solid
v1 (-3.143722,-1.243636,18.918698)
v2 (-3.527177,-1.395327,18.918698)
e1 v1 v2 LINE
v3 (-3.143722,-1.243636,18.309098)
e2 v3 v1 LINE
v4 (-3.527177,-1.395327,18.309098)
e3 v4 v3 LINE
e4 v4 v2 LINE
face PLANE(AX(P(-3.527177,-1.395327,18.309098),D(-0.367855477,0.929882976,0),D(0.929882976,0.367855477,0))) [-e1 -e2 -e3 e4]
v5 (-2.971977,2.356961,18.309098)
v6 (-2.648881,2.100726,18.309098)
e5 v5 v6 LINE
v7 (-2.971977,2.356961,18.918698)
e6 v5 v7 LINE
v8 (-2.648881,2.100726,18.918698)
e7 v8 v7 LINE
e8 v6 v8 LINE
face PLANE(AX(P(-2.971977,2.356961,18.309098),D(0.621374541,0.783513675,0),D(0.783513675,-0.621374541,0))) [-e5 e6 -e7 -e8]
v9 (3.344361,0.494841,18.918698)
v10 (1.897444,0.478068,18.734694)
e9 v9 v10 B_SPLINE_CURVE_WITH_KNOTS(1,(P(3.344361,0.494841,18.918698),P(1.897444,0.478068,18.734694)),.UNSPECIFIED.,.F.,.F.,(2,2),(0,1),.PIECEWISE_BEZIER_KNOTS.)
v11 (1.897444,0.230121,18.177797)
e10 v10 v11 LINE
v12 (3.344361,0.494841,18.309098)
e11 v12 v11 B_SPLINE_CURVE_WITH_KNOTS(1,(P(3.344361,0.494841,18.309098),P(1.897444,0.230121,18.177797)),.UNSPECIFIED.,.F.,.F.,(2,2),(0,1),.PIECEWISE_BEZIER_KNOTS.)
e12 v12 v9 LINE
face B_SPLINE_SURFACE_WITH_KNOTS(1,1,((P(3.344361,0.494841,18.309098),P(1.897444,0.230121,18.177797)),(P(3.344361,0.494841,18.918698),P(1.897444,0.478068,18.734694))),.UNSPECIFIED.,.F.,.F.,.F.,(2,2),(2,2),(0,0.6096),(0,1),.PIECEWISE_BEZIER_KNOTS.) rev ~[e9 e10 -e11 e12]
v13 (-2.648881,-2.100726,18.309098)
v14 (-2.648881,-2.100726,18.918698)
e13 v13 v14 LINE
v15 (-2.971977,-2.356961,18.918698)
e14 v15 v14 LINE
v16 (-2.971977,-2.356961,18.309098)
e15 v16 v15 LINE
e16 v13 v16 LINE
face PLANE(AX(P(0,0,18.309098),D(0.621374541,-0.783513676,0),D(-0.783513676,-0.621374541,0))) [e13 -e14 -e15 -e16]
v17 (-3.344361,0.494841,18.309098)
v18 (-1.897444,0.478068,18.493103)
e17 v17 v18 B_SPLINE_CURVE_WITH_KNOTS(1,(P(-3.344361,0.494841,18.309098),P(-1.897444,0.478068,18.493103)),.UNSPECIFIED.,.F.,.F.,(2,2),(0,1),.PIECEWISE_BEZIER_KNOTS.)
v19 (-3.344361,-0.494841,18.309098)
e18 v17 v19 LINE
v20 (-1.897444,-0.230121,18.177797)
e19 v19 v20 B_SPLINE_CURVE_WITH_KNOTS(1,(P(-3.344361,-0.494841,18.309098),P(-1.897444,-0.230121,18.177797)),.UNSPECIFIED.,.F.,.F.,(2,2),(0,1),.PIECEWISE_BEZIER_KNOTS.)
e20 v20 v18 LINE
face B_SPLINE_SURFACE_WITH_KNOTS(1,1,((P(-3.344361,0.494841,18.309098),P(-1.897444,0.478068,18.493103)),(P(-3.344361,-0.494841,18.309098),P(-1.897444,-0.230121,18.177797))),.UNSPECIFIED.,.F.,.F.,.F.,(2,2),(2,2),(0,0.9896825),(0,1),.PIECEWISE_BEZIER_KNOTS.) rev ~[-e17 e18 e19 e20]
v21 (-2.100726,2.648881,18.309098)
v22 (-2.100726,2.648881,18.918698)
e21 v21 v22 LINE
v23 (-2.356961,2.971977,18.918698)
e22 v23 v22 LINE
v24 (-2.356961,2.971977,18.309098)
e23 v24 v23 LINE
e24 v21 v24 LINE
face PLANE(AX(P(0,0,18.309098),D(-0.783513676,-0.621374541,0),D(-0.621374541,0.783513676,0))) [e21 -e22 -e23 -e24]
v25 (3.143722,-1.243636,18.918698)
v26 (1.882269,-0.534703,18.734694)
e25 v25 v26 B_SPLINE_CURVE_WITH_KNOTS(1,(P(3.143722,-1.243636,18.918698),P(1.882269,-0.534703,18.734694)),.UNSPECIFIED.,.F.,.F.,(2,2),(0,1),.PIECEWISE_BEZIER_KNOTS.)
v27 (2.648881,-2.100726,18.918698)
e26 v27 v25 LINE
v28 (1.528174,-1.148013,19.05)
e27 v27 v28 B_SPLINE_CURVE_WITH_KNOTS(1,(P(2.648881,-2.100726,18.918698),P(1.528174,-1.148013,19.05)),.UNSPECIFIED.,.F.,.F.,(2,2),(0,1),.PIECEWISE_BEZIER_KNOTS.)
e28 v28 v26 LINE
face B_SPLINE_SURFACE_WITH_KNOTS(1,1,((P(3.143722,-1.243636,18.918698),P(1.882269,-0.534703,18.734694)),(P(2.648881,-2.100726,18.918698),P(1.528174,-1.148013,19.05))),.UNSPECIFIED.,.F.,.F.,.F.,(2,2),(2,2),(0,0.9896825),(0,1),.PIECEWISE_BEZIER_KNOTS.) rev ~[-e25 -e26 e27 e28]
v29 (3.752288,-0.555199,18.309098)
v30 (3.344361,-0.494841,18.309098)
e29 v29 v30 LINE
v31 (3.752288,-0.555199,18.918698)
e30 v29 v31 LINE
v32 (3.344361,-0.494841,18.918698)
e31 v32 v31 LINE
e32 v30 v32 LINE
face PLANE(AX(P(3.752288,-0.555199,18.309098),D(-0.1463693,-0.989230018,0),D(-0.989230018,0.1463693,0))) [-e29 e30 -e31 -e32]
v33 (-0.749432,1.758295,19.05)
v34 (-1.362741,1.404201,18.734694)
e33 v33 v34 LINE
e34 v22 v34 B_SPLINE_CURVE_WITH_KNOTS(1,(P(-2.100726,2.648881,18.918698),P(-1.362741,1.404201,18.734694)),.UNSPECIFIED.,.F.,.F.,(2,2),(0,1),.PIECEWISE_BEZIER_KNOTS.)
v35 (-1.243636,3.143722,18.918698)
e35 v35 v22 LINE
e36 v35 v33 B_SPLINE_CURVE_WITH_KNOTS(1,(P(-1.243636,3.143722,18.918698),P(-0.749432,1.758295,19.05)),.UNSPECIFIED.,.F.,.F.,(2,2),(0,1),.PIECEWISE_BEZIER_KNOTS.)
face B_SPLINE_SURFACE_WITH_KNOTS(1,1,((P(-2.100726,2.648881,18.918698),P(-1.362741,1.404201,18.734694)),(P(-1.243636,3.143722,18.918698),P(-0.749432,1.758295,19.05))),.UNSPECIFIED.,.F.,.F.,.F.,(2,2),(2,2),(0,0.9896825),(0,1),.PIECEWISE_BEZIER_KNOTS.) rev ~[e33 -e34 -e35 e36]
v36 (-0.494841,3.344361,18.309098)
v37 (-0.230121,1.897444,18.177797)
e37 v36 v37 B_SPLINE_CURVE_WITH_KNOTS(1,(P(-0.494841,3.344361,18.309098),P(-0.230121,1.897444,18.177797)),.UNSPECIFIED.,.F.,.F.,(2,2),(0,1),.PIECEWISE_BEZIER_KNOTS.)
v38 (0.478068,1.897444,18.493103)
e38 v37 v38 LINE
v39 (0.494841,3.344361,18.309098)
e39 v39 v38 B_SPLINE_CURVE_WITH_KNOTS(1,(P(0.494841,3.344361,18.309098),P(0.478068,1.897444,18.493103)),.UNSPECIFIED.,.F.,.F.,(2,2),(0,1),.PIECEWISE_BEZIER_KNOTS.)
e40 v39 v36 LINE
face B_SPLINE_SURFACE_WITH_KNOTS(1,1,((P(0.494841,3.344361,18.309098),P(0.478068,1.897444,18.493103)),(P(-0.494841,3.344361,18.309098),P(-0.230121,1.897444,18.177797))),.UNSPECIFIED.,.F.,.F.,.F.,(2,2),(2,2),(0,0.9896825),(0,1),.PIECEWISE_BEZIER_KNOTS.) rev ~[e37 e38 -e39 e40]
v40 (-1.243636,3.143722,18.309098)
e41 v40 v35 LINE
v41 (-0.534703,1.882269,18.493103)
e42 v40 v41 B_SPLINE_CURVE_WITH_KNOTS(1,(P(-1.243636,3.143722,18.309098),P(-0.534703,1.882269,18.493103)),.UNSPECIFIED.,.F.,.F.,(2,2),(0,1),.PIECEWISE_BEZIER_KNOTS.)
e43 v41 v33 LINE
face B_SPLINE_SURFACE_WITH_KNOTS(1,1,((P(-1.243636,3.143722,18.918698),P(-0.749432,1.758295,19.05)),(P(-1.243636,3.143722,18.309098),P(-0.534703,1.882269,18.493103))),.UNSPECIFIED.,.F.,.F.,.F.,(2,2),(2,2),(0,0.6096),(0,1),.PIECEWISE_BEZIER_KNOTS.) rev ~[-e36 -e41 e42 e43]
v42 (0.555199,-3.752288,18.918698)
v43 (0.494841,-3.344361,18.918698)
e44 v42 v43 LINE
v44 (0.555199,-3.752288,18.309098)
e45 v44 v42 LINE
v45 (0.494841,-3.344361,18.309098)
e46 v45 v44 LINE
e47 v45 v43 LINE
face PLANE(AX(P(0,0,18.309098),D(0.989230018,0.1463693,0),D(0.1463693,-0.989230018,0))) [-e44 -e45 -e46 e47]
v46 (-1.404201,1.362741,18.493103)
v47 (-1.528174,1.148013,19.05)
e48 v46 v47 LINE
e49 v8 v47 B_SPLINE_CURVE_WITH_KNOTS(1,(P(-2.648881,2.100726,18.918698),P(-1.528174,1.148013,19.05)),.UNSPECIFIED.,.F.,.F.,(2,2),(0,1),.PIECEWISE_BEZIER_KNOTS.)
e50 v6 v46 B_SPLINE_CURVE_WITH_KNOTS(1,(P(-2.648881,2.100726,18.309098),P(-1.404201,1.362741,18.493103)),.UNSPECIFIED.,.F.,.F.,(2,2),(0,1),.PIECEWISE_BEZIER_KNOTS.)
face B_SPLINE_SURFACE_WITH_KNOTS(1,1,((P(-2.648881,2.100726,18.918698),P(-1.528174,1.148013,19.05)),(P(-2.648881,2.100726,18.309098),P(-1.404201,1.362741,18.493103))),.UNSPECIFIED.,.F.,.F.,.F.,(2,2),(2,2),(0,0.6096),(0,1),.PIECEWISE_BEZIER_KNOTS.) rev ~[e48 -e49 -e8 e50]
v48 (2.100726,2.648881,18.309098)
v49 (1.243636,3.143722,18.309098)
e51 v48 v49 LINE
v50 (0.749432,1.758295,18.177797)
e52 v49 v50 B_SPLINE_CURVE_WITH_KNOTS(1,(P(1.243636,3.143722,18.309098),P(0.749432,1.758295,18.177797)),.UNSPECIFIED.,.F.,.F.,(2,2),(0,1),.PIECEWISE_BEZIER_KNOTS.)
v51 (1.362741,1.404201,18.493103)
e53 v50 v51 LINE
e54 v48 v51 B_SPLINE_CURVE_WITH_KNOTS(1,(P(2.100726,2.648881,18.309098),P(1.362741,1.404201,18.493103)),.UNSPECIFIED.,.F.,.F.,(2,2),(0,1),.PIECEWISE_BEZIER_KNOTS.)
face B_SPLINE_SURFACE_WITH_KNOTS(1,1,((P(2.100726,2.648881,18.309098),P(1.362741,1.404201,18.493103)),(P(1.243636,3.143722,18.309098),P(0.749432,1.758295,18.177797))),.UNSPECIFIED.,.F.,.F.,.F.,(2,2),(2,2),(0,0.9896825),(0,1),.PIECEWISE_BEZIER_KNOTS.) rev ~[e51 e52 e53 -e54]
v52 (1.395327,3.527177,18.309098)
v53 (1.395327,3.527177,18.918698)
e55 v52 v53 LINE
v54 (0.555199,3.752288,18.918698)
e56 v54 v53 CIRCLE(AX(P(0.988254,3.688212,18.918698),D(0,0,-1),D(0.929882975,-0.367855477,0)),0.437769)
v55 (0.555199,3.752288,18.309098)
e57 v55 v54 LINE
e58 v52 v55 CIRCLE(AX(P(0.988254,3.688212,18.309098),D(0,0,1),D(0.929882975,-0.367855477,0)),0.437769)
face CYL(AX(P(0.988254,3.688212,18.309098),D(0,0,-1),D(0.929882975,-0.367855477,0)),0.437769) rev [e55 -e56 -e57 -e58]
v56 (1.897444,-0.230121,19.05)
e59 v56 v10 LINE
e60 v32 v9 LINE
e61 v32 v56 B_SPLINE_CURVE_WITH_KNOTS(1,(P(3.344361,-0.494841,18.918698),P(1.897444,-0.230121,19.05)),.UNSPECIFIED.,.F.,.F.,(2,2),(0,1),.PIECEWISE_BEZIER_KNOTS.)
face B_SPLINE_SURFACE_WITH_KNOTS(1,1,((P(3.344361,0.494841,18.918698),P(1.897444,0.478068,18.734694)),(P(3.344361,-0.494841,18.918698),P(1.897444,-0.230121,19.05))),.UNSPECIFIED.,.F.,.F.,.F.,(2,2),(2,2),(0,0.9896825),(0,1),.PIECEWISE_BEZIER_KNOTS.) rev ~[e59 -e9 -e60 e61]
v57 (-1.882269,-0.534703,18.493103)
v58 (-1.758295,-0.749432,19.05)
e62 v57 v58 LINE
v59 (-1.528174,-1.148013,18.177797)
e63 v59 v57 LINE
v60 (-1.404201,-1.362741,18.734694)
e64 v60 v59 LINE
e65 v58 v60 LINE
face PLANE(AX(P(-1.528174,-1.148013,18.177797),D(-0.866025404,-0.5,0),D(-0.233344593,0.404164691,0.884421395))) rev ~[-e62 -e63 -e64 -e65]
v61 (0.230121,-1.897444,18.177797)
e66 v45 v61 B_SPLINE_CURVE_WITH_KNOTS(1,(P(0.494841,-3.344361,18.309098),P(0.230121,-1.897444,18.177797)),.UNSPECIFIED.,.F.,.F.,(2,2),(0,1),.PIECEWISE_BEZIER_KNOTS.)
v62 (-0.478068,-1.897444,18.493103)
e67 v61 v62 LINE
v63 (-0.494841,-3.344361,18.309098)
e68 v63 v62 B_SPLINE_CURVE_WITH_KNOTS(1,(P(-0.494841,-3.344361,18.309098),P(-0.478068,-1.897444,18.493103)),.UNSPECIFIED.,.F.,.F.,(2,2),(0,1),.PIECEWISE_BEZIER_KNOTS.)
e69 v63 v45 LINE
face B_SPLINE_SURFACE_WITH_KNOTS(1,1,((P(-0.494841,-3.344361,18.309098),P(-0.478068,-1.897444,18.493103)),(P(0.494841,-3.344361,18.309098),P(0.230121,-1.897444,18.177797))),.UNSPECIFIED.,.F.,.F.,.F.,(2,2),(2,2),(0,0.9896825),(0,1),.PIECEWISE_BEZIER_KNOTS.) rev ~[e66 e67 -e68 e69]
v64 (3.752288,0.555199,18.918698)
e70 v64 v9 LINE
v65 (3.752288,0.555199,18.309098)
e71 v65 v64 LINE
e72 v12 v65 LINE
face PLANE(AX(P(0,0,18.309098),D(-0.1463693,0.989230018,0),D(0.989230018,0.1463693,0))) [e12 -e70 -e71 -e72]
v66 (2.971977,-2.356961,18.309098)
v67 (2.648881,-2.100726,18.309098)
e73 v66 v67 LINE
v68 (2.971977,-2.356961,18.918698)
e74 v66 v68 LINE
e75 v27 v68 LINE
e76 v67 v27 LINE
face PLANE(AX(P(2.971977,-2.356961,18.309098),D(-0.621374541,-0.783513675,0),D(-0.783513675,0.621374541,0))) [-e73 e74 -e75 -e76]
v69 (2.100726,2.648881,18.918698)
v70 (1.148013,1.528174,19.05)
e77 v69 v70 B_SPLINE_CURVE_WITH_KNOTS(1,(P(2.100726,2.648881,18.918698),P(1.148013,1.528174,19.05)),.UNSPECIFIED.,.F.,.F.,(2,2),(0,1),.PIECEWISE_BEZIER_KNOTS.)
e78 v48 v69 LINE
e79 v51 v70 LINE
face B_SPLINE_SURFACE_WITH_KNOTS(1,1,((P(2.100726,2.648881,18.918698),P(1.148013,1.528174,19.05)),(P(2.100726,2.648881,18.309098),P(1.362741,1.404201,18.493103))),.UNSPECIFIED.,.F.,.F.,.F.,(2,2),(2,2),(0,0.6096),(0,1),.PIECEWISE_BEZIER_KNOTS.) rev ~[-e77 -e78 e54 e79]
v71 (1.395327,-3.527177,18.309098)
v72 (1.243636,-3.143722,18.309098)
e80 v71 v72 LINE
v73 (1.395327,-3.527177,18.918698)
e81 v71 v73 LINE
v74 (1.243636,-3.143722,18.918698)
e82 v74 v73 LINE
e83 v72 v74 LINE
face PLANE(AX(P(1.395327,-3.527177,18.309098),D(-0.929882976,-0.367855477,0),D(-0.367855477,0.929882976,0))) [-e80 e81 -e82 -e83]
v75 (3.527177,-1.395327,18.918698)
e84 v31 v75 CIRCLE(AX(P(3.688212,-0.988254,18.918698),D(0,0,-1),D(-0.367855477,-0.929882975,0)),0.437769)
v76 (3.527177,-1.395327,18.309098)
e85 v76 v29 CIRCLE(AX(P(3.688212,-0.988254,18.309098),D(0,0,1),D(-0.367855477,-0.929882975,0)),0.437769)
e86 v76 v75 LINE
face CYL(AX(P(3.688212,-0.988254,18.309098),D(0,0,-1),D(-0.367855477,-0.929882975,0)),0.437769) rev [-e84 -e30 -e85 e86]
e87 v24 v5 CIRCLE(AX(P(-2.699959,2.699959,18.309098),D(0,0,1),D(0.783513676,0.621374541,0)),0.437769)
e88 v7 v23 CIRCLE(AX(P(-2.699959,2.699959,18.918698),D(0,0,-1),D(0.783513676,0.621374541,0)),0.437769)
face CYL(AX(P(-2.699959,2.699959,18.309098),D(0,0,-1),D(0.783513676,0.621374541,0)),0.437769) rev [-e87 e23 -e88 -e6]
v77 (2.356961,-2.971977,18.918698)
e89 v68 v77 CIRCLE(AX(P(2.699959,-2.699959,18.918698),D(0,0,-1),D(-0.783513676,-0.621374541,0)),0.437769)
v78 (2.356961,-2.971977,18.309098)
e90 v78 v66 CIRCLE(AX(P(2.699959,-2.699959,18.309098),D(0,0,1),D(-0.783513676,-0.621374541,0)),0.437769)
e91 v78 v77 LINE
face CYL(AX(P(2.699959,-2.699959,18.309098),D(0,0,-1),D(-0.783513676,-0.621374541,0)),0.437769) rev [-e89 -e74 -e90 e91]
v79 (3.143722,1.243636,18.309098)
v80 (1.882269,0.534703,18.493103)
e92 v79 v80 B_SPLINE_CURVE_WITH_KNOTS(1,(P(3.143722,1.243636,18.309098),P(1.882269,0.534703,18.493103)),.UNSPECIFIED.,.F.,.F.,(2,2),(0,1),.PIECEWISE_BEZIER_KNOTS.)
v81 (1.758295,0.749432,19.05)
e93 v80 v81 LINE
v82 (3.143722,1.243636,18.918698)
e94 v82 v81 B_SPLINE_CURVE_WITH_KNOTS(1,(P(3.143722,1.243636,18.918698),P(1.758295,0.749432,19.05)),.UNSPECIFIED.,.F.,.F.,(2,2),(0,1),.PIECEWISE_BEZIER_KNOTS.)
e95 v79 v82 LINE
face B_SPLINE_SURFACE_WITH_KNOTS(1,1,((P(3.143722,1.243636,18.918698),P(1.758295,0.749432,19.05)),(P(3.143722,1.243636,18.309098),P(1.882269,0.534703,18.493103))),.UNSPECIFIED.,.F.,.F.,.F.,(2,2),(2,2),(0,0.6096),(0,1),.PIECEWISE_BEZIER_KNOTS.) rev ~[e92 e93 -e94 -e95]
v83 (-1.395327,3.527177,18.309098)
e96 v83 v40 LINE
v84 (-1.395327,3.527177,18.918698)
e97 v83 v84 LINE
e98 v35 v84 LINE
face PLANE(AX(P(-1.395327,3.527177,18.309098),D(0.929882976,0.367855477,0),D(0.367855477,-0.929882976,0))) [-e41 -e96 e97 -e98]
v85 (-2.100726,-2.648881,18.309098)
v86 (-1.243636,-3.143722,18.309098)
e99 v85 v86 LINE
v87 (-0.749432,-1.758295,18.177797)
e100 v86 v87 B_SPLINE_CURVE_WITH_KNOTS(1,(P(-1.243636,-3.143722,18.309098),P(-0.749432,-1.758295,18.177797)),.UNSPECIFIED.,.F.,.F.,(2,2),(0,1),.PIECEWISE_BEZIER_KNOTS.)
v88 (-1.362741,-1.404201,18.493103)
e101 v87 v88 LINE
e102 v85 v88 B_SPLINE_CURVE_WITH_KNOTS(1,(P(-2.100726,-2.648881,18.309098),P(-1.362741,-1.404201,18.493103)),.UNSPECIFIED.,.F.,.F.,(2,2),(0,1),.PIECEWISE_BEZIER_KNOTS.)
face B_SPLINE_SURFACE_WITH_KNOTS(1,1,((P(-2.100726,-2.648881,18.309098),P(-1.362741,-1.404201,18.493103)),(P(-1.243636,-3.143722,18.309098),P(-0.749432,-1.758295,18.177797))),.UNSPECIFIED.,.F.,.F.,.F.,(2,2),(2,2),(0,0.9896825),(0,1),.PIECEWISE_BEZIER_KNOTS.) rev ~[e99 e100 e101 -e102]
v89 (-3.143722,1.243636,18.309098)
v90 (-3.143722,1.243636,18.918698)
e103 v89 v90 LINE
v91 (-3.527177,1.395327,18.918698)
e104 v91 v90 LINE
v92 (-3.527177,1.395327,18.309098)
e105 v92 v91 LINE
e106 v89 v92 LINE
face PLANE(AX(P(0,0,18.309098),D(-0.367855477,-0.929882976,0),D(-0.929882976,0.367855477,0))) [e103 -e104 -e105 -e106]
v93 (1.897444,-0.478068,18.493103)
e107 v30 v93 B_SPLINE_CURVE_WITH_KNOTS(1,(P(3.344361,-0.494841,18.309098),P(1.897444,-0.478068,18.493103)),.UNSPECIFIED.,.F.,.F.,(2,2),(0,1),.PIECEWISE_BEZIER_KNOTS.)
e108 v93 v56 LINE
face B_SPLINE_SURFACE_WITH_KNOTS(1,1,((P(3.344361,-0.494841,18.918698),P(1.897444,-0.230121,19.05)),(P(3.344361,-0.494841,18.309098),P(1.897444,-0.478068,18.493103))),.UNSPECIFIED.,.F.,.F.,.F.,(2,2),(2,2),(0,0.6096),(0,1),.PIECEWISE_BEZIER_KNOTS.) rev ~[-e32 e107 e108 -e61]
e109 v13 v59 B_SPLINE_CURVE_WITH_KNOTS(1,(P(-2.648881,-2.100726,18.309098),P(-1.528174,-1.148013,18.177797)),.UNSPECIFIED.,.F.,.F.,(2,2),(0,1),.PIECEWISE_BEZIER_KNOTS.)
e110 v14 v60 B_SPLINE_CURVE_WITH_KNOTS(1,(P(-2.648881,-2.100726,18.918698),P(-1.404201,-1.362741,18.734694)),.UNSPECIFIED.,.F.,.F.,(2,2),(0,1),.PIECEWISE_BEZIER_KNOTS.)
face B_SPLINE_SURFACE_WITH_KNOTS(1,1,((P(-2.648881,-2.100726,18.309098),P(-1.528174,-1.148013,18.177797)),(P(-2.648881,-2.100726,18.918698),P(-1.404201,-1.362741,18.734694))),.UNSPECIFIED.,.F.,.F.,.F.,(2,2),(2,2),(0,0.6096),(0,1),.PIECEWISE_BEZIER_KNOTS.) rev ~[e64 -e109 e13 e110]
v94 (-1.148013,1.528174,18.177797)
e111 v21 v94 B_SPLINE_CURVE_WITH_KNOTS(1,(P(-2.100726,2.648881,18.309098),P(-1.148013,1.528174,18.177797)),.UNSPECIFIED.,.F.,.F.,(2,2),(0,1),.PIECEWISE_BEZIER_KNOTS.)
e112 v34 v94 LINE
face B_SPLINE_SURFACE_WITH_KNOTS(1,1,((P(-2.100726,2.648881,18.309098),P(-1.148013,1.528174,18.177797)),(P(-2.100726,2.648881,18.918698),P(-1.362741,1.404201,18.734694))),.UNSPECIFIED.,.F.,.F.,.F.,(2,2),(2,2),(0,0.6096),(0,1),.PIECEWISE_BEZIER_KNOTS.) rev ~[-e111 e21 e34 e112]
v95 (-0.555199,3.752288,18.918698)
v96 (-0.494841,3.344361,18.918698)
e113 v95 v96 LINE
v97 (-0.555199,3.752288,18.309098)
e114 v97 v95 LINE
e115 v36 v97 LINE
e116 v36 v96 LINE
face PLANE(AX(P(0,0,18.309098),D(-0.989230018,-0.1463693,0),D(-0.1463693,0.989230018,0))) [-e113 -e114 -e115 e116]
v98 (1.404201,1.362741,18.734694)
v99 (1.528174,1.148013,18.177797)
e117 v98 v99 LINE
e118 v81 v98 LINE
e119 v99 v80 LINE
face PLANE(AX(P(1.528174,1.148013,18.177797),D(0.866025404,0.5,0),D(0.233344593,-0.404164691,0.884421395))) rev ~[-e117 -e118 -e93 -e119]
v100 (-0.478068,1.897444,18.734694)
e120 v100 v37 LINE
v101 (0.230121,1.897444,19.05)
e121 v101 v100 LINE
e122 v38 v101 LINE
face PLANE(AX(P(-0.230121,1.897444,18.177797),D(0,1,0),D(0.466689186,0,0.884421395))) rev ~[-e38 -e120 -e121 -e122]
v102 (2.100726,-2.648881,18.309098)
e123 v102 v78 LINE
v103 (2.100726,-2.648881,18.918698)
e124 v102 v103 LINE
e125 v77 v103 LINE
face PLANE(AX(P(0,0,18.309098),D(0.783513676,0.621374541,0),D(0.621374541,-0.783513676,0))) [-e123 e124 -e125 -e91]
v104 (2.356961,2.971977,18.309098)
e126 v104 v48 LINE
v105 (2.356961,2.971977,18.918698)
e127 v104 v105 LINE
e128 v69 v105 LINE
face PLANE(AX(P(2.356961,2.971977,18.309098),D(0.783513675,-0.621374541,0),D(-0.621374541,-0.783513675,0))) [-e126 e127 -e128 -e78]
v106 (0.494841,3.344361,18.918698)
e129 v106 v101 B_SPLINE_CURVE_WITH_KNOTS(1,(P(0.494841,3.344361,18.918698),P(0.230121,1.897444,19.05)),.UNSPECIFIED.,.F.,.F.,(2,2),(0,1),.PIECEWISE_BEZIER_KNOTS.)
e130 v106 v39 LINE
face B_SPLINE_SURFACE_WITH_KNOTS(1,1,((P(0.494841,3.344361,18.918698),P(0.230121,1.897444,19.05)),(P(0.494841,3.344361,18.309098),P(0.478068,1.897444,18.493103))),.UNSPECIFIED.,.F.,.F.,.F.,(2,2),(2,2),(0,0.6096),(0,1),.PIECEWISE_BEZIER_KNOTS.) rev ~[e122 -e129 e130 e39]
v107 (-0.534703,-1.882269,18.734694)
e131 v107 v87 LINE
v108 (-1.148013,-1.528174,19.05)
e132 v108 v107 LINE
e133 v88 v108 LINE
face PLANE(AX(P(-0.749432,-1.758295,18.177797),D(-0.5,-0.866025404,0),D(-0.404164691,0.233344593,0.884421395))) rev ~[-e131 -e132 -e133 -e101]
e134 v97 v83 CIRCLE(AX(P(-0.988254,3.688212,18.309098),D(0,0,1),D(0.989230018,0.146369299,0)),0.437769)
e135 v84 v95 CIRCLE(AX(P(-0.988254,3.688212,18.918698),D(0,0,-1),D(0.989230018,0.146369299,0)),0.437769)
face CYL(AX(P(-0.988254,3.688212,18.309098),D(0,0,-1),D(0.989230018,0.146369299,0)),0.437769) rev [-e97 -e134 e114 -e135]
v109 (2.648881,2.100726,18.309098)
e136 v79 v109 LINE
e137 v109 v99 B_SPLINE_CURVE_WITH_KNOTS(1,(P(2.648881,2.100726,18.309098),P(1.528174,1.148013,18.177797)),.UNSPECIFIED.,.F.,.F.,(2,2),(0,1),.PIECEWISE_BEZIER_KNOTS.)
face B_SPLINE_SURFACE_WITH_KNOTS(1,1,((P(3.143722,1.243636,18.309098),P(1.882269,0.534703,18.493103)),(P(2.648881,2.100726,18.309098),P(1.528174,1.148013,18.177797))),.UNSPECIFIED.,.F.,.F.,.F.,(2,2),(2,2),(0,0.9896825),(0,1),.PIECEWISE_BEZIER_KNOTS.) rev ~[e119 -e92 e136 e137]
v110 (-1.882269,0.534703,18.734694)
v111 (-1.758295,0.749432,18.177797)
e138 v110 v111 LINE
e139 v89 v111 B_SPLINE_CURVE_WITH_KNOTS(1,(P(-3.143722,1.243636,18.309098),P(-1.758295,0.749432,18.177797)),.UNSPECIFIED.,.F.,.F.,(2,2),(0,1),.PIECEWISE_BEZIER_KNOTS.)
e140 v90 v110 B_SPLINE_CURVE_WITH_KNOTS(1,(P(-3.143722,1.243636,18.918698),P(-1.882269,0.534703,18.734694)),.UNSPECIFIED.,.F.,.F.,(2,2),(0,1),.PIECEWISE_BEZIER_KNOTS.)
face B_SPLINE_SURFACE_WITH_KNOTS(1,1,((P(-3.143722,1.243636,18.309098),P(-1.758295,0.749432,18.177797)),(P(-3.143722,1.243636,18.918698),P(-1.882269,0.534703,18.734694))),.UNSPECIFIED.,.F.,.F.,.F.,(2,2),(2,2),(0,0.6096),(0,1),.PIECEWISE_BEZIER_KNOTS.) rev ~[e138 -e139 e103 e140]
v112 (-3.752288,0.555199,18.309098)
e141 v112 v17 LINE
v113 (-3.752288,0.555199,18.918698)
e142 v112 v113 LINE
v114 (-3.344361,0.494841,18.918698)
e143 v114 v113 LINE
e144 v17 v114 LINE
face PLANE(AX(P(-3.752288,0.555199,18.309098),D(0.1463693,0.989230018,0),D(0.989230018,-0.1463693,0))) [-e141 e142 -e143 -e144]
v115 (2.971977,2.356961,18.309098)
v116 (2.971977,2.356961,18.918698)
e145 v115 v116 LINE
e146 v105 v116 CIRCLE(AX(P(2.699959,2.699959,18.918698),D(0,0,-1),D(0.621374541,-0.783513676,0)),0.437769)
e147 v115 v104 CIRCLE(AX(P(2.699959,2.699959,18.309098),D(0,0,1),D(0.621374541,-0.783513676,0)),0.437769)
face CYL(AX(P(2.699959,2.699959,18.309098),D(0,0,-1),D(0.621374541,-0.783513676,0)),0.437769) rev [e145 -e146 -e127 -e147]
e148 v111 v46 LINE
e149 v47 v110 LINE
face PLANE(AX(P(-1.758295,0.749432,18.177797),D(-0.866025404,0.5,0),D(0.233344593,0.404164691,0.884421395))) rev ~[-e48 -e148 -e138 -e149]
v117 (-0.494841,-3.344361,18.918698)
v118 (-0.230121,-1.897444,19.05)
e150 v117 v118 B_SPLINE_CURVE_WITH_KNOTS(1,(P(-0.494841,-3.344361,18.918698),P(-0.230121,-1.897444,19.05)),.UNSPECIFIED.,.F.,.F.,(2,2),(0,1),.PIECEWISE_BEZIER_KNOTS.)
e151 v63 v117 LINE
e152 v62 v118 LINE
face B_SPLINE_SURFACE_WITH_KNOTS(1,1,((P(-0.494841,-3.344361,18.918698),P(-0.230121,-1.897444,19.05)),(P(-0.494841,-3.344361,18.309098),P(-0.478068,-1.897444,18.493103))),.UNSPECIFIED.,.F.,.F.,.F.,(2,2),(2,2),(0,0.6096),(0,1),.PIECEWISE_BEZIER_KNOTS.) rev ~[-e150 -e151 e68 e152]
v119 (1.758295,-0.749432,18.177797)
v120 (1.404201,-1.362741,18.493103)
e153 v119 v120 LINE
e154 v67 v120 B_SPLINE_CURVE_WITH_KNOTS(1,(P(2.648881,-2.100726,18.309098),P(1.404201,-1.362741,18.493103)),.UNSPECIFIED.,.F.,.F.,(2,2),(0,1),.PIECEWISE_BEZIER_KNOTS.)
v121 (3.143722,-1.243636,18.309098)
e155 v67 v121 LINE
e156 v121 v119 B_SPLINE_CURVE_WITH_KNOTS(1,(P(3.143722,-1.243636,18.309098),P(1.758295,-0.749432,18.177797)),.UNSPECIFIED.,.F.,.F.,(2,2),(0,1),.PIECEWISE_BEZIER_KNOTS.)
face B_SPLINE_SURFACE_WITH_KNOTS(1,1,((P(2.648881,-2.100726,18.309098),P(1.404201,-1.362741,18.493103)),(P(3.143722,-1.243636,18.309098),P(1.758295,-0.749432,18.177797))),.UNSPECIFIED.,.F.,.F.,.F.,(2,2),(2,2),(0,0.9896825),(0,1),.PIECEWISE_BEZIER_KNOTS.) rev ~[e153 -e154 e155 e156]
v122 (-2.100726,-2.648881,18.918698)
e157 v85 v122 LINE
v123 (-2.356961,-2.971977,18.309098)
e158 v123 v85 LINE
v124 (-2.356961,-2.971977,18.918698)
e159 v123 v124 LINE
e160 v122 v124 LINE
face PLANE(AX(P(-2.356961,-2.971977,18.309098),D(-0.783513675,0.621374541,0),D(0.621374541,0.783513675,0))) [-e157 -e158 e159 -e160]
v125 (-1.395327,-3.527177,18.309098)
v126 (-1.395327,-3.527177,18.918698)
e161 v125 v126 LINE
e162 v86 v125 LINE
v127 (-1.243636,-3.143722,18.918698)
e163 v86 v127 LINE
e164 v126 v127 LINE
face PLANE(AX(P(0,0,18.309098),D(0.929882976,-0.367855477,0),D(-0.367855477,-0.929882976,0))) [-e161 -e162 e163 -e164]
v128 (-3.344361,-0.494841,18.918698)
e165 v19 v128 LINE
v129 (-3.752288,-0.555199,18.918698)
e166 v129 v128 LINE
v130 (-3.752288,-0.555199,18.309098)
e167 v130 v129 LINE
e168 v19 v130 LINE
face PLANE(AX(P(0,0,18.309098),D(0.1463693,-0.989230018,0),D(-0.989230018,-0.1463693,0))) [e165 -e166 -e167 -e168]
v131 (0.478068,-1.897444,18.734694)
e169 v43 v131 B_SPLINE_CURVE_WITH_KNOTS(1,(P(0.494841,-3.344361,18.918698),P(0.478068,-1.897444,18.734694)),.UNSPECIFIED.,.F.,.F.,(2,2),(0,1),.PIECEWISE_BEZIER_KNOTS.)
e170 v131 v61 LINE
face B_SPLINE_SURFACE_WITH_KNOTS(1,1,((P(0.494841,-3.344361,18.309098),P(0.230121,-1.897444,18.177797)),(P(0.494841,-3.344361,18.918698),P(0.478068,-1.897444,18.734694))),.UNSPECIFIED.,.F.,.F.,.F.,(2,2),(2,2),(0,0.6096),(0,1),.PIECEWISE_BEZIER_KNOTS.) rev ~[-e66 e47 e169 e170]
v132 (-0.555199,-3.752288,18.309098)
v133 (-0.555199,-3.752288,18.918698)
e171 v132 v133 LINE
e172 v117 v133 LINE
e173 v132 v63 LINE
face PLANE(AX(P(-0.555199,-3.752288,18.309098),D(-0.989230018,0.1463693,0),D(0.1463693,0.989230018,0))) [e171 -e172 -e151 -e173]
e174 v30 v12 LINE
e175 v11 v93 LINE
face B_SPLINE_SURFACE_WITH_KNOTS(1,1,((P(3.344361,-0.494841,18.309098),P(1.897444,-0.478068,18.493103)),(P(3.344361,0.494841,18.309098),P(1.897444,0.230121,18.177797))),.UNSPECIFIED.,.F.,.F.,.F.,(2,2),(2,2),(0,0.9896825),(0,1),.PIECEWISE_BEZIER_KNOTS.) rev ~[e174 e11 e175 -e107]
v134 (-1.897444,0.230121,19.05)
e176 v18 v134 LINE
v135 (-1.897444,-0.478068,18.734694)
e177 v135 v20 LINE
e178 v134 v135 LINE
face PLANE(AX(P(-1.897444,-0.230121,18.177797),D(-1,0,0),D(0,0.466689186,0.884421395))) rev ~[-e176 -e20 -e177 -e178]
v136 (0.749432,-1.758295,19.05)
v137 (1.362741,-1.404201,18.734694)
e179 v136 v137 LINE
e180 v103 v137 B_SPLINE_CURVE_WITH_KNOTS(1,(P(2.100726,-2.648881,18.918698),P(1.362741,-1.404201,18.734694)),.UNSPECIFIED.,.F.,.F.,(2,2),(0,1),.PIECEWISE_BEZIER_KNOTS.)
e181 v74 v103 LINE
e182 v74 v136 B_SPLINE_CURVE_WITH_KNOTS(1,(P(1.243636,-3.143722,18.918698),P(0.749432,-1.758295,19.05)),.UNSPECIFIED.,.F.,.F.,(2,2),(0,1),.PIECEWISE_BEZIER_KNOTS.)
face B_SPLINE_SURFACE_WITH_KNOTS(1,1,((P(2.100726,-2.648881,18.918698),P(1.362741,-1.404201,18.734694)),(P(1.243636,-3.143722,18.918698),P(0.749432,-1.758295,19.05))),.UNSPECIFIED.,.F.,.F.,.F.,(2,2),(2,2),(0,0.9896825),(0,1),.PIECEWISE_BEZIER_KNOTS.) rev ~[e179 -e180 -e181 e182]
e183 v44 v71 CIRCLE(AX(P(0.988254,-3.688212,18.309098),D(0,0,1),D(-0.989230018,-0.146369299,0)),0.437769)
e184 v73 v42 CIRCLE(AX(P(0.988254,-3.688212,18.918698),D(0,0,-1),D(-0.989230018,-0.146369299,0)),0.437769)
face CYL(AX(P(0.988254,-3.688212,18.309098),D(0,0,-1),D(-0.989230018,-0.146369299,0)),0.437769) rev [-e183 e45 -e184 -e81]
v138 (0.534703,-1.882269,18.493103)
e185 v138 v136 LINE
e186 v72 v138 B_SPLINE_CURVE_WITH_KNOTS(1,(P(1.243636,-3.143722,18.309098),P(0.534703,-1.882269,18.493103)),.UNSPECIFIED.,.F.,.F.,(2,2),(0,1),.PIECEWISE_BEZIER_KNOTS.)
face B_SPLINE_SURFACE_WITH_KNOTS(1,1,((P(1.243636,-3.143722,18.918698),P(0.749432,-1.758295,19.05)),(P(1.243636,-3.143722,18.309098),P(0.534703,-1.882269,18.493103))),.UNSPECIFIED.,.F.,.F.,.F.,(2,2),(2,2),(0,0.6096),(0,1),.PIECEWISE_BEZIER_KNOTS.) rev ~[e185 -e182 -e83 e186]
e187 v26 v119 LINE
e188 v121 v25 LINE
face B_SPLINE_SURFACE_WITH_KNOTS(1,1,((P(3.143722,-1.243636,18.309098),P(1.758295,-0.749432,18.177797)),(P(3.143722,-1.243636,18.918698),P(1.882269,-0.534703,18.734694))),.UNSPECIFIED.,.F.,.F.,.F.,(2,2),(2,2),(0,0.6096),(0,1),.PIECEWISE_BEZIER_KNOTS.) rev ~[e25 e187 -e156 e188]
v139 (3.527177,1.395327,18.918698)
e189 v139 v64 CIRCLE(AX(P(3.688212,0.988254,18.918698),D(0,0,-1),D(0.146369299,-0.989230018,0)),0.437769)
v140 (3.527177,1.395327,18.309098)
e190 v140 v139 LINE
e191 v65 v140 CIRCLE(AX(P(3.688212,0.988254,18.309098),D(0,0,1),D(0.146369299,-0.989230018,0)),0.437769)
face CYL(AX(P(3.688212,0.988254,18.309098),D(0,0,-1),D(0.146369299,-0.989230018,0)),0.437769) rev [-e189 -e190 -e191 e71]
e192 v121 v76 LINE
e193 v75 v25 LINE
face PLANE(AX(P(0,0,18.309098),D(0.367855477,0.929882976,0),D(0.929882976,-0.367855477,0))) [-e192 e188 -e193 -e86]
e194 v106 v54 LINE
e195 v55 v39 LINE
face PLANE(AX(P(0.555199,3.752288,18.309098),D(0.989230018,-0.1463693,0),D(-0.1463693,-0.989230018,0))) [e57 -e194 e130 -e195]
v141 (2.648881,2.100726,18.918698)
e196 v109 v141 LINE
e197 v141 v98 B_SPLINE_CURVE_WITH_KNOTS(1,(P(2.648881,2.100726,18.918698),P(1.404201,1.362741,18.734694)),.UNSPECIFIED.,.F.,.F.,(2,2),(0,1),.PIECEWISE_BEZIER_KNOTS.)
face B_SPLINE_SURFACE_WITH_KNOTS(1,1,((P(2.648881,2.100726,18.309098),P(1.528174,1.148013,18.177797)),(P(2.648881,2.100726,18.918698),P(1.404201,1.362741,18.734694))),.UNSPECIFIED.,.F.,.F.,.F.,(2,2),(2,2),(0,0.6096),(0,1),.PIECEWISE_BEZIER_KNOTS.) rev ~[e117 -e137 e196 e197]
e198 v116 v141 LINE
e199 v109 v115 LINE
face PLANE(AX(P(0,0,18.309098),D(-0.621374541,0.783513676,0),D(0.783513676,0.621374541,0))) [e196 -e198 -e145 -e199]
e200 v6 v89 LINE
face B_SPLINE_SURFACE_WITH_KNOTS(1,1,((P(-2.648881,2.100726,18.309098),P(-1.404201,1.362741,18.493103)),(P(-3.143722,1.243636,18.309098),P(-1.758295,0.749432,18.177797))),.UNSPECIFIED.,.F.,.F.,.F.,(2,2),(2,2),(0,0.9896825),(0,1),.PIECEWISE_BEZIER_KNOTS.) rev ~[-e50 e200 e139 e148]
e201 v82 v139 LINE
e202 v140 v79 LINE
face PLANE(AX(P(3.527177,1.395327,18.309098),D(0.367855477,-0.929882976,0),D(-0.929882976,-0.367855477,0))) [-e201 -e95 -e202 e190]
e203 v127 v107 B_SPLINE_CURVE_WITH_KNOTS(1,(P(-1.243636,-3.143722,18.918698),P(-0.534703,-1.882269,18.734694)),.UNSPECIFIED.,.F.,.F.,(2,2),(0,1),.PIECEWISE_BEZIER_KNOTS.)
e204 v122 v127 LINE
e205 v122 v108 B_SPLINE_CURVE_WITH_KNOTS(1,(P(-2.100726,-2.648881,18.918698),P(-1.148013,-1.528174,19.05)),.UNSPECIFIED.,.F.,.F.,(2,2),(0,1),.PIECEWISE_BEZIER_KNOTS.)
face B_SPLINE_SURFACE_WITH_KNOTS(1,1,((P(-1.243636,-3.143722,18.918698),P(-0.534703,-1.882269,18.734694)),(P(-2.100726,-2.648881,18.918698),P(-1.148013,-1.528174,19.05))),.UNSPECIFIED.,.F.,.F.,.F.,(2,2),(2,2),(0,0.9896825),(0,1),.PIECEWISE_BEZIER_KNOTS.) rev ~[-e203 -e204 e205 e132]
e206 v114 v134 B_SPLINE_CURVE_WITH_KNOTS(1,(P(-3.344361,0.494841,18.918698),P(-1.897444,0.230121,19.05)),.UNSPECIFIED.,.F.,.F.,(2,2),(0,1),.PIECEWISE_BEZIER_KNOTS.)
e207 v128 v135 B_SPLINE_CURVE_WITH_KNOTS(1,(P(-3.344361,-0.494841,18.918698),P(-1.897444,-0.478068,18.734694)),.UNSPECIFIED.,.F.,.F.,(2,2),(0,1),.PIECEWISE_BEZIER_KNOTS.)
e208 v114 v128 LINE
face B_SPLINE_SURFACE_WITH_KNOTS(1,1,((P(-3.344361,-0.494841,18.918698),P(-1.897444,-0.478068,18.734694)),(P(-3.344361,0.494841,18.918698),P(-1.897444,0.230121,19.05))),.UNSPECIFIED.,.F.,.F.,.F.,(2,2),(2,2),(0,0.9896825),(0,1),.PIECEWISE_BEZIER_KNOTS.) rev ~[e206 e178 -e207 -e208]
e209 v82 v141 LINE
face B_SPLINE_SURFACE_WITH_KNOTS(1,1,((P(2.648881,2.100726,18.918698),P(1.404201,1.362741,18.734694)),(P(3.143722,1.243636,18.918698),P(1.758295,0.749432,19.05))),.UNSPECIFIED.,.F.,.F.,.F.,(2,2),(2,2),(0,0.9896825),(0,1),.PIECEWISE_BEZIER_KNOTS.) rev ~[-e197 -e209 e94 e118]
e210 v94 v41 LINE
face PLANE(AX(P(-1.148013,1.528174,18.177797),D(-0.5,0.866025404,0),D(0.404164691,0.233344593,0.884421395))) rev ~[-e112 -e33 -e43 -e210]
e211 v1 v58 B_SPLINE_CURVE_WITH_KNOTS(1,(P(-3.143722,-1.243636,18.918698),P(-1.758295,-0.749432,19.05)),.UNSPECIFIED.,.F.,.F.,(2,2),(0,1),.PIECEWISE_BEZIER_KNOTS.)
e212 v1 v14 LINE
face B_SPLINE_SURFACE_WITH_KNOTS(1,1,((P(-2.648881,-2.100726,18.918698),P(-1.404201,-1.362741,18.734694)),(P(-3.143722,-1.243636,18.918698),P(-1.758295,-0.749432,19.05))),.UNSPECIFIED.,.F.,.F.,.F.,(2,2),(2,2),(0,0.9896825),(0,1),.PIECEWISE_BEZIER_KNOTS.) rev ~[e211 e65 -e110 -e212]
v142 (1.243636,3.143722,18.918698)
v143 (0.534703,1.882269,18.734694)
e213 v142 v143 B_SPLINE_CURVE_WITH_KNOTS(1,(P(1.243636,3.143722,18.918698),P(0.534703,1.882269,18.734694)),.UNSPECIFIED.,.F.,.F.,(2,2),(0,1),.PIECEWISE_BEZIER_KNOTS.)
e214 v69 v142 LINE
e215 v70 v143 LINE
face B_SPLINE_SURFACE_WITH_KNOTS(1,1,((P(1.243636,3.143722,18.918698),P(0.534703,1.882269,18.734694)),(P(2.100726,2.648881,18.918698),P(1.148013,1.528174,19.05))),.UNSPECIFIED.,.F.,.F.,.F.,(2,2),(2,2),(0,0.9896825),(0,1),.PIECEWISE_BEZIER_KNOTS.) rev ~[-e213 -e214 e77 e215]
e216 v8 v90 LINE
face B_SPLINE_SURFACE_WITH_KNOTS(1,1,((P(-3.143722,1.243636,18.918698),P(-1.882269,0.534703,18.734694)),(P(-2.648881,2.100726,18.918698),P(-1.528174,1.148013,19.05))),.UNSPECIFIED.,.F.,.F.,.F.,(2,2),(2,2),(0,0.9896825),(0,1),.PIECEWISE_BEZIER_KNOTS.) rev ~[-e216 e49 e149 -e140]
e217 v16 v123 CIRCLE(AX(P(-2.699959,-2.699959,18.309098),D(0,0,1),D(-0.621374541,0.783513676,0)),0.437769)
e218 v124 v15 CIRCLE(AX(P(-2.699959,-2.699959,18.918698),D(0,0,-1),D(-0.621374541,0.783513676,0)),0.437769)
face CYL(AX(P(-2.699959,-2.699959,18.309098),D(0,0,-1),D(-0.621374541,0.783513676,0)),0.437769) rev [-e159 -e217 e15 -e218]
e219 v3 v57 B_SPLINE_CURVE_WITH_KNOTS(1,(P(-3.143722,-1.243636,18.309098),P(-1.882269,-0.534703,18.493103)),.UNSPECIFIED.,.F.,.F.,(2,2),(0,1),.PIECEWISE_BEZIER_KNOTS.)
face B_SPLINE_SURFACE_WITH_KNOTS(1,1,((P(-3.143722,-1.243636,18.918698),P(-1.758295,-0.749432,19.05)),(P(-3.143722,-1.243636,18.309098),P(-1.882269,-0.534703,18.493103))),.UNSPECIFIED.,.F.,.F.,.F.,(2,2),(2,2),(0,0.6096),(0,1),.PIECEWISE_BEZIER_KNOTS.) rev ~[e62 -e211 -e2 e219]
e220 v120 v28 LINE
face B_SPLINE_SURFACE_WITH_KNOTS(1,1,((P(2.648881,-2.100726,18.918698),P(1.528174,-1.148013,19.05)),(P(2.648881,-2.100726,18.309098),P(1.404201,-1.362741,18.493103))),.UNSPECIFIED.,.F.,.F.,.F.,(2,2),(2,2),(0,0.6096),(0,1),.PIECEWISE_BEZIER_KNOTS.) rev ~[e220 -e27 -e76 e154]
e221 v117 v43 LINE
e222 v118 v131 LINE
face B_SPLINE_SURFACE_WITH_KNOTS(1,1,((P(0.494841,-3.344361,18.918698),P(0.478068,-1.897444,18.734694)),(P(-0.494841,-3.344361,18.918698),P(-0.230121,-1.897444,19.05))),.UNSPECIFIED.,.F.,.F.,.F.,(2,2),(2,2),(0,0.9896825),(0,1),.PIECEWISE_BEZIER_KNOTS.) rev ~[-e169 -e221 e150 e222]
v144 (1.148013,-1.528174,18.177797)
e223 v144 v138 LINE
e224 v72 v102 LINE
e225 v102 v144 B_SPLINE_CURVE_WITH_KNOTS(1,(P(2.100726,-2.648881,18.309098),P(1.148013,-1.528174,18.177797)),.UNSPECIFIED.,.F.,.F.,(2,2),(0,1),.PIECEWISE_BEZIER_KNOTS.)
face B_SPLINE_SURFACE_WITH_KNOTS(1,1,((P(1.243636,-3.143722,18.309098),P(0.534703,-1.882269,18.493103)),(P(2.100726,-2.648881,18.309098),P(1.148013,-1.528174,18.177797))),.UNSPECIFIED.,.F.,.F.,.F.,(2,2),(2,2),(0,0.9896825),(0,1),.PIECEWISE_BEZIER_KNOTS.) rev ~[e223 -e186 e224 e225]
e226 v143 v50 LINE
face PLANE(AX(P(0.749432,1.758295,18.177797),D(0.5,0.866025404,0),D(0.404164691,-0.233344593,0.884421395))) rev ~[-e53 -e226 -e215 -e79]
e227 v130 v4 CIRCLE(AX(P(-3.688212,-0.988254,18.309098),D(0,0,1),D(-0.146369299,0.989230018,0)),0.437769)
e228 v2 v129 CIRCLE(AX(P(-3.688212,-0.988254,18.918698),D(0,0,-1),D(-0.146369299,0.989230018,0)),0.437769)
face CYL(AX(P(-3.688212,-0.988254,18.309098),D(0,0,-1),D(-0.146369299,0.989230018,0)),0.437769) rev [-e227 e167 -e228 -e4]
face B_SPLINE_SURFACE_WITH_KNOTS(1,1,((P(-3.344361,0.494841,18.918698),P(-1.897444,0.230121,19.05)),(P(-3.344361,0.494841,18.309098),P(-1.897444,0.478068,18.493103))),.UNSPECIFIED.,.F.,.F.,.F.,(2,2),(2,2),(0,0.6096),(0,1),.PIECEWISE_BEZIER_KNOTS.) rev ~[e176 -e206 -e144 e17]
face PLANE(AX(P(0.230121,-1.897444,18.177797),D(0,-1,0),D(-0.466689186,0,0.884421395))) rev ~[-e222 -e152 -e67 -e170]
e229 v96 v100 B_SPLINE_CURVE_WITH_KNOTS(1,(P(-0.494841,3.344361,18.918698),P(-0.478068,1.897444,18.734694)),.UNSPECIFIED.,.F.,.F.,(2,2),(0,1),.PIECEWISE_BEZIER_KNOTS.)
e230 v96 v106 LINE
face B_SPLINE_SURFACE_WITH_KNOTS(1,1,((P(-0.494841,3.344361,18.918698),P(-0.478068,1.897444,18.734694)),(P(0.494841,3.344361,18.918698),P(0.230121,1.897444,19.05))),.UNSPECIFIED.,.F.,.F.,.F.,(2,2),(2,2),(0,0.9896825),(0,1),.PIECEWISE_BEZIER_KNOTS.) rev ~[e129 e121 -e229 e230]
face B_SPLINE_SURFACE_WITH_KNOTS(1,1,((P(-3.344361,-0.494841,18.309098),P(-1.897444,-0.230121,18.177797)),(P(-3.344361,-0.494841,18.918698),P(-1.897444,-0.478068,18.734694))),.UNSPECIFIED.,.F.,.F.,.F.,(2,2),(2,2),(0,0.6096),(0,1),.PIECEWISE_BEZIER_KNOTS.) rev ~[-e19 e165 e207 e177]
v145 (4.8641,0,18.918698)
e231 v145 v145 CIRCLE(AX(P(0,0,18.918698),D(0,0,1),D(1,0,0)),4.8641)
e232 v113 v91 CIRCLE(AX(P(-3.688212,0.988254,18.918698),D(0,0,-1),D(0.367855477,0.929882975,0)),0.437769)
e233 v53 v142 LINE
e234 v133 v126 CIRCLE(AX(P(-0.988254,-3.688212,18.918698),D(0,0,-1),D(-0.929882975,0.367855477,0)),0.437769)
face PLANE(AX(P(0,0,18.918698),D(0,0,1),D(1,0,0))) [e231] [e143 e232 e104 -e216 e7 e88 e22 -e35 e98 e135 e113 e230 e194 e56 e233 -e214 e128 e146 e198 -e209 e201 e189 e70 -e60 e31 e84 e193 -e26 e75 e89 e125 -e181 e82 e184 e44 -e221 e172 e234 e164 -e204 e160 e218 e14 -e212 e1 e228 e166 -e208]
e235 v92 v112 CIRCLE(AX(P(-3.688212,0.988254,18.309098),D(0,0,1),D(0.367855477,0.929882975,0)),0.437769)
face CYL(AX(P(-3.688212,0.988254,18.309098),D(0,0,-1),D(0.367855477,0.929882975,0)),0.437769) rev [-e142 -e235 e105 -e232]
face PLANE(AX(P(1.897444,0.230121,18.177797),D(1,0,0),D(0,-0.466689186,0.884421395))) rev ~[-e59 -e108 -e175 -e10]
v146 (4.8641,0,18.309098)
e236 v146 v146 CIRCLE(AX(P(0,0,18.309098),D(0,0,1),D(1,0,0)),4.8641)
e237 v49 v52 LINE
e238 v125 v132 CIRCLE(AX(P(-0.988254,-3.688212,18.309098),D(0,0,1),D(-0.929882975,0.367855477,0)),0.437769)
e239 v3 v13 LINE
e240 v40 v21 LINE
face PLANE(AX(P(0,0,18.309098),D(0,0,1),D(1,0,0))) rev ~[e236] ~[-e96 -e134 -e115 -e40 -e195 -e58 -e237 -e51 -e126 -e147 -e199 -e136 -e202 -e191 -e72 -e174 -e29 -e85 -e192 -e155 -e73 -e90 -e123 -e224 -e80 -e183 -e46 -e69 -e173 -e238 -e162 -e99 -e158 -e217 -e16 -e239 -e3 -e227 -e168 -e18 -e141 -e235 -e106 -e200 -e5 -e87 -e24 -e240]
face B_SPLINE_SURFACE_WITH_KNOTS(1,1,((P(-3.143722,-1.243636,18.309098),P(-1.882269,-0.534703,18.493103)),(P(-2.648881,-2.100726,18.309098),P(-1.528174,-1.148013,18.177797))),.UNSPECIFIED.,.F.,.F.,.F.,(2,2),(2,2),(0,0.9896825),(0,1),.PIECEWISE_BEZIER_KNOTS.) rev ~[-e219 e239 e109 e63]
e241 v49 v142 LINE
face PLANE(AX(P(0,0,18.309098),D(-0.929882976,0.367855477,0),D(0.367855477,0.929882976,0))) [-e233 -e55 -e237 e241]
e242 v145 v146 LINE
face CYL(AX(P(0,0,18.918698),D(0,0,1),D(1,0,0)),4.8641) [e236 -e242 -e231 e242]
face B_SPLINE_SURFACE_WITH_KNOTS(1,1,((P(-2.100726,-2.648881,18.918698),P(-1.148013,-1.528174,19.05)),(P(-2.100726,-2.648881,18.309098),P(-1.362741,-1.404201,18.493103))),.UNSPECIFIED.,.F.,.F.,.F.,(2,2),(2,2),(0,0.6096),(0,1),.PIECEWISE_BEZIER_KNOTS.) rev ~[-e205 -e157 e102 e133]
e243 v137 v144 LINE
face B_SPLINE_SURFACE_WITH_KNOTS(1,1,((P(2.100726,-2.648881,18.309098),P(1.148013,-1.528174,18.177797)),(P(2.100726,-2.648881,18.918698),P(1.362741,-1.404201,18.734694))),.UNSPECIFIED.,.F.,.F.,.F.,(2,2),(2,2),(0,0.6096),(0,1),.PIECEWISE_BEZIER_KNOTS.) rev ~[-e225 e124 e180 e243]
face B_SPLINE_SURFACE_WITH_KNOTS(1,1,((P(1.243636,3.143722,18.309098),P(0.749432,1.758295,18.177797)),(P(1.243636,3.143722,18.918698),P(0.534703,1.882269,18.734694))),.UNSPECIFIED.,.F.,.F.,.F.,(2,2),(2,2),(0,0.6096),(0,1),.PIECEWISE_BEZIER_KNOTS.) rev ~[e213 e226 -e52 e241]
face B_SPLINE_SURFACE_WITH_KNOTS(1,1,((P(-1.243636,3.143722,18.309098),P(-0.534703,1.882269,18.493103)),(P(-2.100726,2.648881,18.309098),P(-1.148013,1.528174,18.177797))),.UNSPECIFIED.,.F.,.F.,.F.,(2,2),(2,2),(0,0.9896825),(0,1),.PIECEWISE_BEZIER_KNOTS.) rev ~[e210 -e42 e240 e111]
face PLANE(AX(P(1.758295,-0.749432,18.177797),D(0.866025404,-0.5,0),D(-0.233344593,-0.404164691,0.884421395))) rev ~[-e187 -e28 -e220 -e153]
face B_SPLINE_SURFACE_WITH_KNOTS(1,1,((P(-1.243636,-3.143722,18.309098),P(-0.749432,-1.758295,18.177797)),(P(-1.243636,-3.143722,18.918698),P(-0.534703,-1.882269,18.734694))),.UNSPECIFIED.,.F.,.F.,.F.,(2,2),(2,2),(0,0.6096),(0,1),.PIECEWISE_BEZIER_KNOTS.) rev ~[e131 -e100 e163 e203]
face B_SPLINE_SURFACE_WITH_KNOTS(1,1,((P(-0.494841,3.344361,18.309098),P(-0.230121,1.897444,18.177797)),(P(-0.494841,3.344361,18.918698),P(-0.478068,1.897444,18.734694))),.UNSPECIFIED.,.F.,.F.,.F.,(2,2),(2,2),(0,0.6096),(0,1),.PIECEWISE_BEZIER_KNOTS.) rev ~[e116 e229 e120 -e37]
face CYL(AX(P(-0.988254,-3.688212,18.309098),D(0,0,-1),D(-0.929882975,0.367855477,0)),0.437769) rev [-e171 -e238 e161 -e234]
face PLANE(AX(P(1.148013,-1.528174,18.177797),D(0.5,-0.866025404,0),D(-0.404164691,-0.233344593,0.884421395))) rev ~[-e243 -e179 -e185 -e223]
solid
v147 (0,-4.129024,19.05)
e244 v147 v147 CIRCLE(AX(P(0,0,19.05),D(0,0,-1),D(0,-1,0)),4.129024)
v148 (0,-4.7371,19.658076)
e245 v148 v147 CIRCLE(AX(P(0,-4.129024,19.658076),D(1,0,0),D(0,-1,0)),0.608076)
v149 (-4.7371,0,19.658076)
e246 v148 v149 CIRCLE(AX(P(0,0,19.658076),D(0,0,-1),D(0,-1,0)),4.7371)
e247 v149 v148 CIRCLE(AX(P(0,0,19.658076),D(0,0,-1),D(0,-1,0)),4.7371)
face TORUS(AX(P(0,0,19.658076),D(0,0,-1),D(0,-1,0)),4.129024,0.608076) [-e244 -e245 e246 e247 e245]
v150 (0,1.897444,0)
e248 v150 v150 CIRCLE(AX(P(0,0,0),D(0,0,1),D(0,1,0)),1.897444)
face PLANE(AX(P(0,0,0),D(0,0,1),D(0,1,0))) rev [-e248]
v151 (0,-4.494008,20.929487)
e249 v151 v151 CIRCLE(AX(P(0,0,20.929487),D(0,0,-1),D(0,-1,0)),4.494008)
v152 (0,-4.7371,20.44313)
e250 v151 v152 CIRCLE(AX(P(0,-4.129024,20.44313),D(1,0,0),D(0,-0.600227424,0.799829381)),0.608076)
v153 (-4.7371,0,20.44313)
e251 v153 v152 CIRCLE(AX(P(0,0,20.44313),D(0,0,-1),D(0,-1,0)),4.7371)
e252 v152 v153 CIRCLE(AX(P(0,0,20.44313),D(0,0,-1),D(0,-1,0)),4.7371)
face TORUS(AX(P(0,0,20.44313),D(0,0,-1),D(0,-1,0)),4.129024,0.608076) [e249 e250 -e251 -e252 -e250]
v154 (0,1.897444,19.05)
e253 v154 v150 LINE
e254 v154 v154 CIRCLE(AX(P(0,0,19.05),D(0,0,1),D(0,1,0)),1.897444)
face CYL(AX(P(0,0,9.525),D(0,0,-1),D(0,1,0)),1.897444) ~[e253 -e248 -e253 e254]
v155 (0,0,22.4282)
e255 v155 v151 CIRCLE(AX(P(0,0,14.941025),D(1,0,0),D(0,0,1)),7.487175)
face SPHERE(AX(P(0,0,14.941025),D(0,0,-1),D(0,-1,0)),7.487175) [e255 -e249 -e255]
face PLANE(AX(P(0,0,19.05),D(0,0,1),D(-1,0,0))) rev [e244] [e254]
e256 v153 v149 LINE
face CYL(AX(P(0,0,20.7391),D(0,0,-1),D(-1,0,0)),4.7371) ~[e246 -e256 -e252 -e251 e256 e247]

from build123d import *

# Parameters (mm, degrees)
SKETCH3_W          = 19.05
SKETCH3_H          = 1.897444252
SKETCH8_W          = 3.3782
SKETCH8_H          = 4.7371
SKETCH18_R         = 4.8641
SKETCH18_R_2       = 3.380772126
EXTRUDE1_DEPTH     = 0.6096
CUT_EXTRUDE2_DEPTH = 20.558681507
CIRPATTERN2_COUNT  = 12
SKETCH30_W         = 0.9896825
SKETCH30_H         = 0.6096
EXTRUDE5_DEPTH     = 0.0508
CIRPATTERN8_COUNT  = 12


with BuildPart() as part:
    # Sketch3 → Revolve1 (revolve)
    with BuildSketch(Plane(origin=(0, 0, 0), x_dir=(0, 0, -1), z_dir=(1, 0, 0))):
        with Locations((-9.525, 0.948722126)):
            Rectangle(SKETCH3_W, SKETCH3_H)
    revolve(axis=Axis((0, 0, 0), (0, 0, 1)))

    # Sketch8 → Revolve2 (revolve)
    with BuildSketch(Plane(origin=(0, 0, 0), x_dir=(0, 0, -1), z_dir=(1, 0, 0))):
        with Locations((-20.7391, 2.36855)):
            Rectangle(SKETCH8_W, SKETCH8_H)
    revolve(axis=Axis((0, 0, 0), (0, 0, 1)))

    # Sketch11 → Cut-Revolve3 (revolve, cut)
    with BuildSketch(Plane(origin=(0, 0, 0), x_dir=(0, 0, -1), z_dir=(1, 0, 0))):
        with BuildLine():
            Line((-20.443130449, 4.7371), (-19.658076, 4.7371))
            ThreePointArc((-19.658076, 4.7371), (-19.228101337, 4.558998663), (-19.05, 4.129024))
            Line((-19.05, 4.129024), (-18.415, 4.129024))
            Line((-18.415, 4.129024), (-18.415, 5.3721))
            Line((-18.415, 5.3721), (-23.0632, 5.3721))
            Line((-23.0632, 5.3721), (-23.0632, 0))
            Line((-23.0632, 0), (-22.4282, 0))
            ThreePointArc((-22.4282, 0), (-22.043646213, 2.368662391), (-20.929487499, 4.494007892))
            ThreePointArc((-20.929487499, 4.494007892), (-20.714992985, 4.672942361), (-20.443130449, 4.7371))
        make_face()
    revolve(axis=Axis((0, 0, 22.4282), (0, 0, -1)), mode=Mode.SUBTRACT)


with BuildPart() as body_2:
    # Sketch18 → Extrude1 (new body)
    with BuildSketch(Plane.XY.offset(18.918698413)):
        Circle(SKETCH18_R)
        Circle(SKETCH18_R_2, mode=Mode.SUBTRACT)
    extrude(amount=-EXTRUDE1_DEPTH)

    # Sketch19 → Cut-Extrude2 (cut, through all)
    with BuildSketch(Plane(origin=(0, 0, 18.309098413), x_dir=(-1, 0, 0), z_dir=(0, 0, -1))):
        with BuildLine():
            Line((1.395327488, 3.527176728), (0, 0))
            Line((0, 0), (0.555199312, 3.752288394))
            ThreePointArc((0.555199312, 3.752288394), (1.101556503, 4.111064835), (1.395327488, 3.527176728))
        make_face()
    cut_extrude2 = extrude(amount=-CUT_EXTRUDE2_DEPTH, mode=Mode.SUBTRACT)

    # CirPattern2: Cut-Extrude2 ×12 about axis
    cirpattern2_axis = Axis((0, 0, 0), (0, 0, -1))
    for i in range(1, CIRPATTERN2_COUNT):
        add(cut_extrude2.rotate(cirpattern2_axis, i * 360 / CIRPATTERN2_COUNT), mode=Mode.SUBTRACT)


with BuildPart() as body_3:
    # Sketch25 → Loft4 section 0
    with BuildSketch(Plane(origin=(0, 3.34436127, 0), x_dir=(-1, 0, 0), z_dir=(0, 1, 0))):
        with BuildLine():
            Line((-0.49484125, 18.309098413), (0.49484125, 18.309098413))
            Line((0.49484125, 18.309098413), (0.49484125, 18.918698413))
            Line((0.49484125, 18.918698413), (-0.49484125, 18.918698413))
            Line((-0.49484125, 18.918698413), (-0.49484125, 18.309098413))
        make_face()
    # Sketch26 → Loft4 section 1
    with BuildSketch(Plane(origin=(0, 1.897444252, 0), x_dir=(-1, 0, 0), z_dir=(0, 1, 0))):
        with BuildLine():
            Line((-0.478067611, 18.493102689), (-0.230120954, 19.05))
            Line((-0.230120954, 19.05), (0.478067611, 18.734694136))
            Line((0.478067611, 18.734694136), (0.230120954, 18.177796825))
            Line((0.230120954, 18.177796825), (-0.478067611, 18.493102689))
        make_face()
    loft()


with BuildPart() as body_4:
    # Sketch30 → Extrude5 (new body)
    with BuildSketch(Plane(origin=(0, 3.34436127, 0), x_dir=(-1, 0, 0), z_dir=(0, 1, 0))):
        with Locations((0, 18.613898413)):
            Rectangle(SKETCH30_W, SKETCH30_H)
    extrude(amount=EXTRUDE5_DEPTH)


with BuildPart() as cirpattern8_1:
    # CirPattern8: pattern copy
    add(body_4.part.rotate(Axis((0, 0, 0), (0, 0, -1)), 1 * 360 / CIRPATTERN8_COUNT))


with BuildPart() as cirpattern8_2:
    # CirPattern8: pattern copy
    add(body_4.part.rotate(Axis((0, 0, 0), (0, 0, -1)), 2 * 360 / CIRPATTERN8_COUNT))


with BuildPart() as cirpattern8_3:
    # CirPattern8: pattern copy
    add(body_4.part.rotate(Axis((0, 0, 0), (0, 0, -1)), 3 * 360 / CIRPATTERN8_COUNT))


with BuildPart() as cirpattern8_4:
    # CirPattern8: pattern copy
    add(body_4.part.rotate(Axis((0, 0, 0), (0, 0, -1)), 4 * 360 / CIRPATTERN8_COUNT))


with BuildPart() as cirpattern8_5:
    # CirPattern8: pattern copy
    add(body_4.part.rotate(Axis((0, 0, 0), (0, 0, -1)), 5 * 360 / CIRPATTERN8_COUNT))


with BuildPart() as cirpattern8_6:
    # CirPattern8: pattern copy
    add(body_4.part.rotate(Axis((0, 0, 0), (0, 0, -1)), 6 * 360 / CIRPATTERN8_COUNT))


with BuildPart() as cirpattern8_7:
    # CirPattern8: pattern copy
    add(body_4.part.rotate(Axis((0, 0, 0), (0, 0, -1)), 7 * 360 / CIRPATTERN8_COUNT))


with BuildPart() as cirpattern8_8:
    # CirPattern8: pattern copy
    add(body_4.part.rotate(Axis((0, 0, 0), (0, 0, -1)), 8 * 360 / CIRPATTERN8_COUNT))


with BuildPart() as cirpattern8_9:
    # CirPattern8: pattern copy
    add(body_4.part.rotate(Axis((0, 0, 0), (0, 0, -1)), 9 * 360 / CIRPATTERN8_COUNT))


with BuildPart() as cirpattern8_10:
    # CirPattern8: pattern copy
    add(body_4.part.rotate(Axis((0, 0, 0), (0, 0, -1)), 10 * 360 / CIRPATTERN8_COUNT))


with BuildPart() as cirpattern8_11:
    # CirPattern8: pattern copy
    add(body_4.part.rotate(Axis((0, 0, 0), (0, 0, -1)), 11 * 360 / CIRPATTERN8_COUNT))


with BuildPart() as cirpattern8_12:
    # CirPattern8: pattern copy
    add(body_3.part.rotate(Axis((0, 0, 0), (0, 0, -1)), 1 * 360 / CIRPATTERN8_COUNT))


with BuildPart() as cirpattern8_13:
    # CirPattern8: pattern copy
    add(body_3.part.rotate(Axis((0, 0, 0), (0, 0, -1)), 2 * 360 / CIRPATTERN8_COUNT))


with BuildPart() as cirpattern8_14:
    # CirPattern8: pattern copy
    add(body_3.part.rotate(Axis((0, 0, 0), (0, 0, -1)), 3 * 360 / CIRPATTERN8_COUNT))


with BuildPart() as cirpattern8_15:
    # CirPattern8: pattern copy
    add(body_3.part.rotate(Axis((0, 0, 0), (0, 0, -1)), 4 * 360 / CIRPATTERN8_COUNT))


with BuildPart() as cirpattern8_16:
    # CirPattern8: pattern copy
    add(body_3.part.rotate(Axis((0, 0, 0), (0, 0, -1)), 5 * 360 / CIRPATTERN8_COUNT))


with BuildPart() as cirpattern8_17:
    # CirPattern8: pattern copy
    add(body_3.part.rotate(Axis((0, 0, 0), (0, 0, -1)), 6 * 360 / CIRPATTERN8_COUNT))


with BuildPart() as cirpattern8_18:
    # CirPattern8: pattern copy
    add(body_3.part.rotate(Axis((0, 0, 0), (0, 0, -1)), 7 * 360 / CIRPATTERN8_COUNT))


with BuildPart() as cirpattern8_19:
    # CirPattern8: pattern copy
    add(body_3.part.rotate(Axis((0, 0, 0), (0, 0, -1)), 8 * 360 / CIRPATTERN8_COUNT))


with BuildPart() as cirpattern8_20:
    # CirPattern8: pattern copy
    add(body_3.part.rotate(Axis((0, 0, 0), (0, 0, -1)), 9 * 360 / CIRPATTERN8_COUNT))


with BuildPart() as cirpattern8_21:
    # CirPattern8: pattern copy
    add(body_3.part.rotate(Axis((0, 0, 0), (0, 0, -1)), 10 * 360 / CIRPATTERN8_COUNT))


with BuildPart() as cirpattern8_22:
    # CirPattern8: pattern copy
    add(body_3.part.rotate(Axis((0, 0, 0), (0, 0, -1)), 11 * 360 / CIRPATTERN8_COUNT))


with BuildPart() as body_3_1:
    add(body_3.part)

    # Combine2: union body 4, CirPattern8_11, CirPattern8_10, CirPattern8_9, CirPattern8_8, CirPattern8_7, CirPattern8_6, CirPattern8_5, CirPattern8_4, CirPattern8_3, CirPattern8_2, CirPattern8_1, CirPattern8_22, CirPattern8_21, CirPattern8_20, CirPattern8_19, CirPattern8_18, CirPattern8_17, CirPattern8_16, CirPattern8_15, CirPattern8_14, CirPattern8_13, CirPattern8_12, body 2
    add(body_4.part)
    add(cirpattern8_11.part)
    add(cirpattern8_10.part)
    add(cirpattern8_9.part)
    add(cirpattern8_8.part)
    add(cirpattern8_7.part)
    add(cirpattern8_6.part)
    add(cirpattern8_5.part)
    add(cirpattern8_4.part)
    add(cirpattern8_3.part)
    add(cirpattern8_2.part)
    add(cirpattern8_1.part)
    add(cirpattern8_22.part)
    add(cirpattern8_21.part)
    add(cirpattern8_20.part)
    add(cirpattern8_19.part)
    add(cirpattern8_18.part)
    add(cirpattern8_17.part)
    add(cirpattern8_16.part)
    add(cirpattern8_15.part)
    add(cirpattern8_14.part)
    add(cirpattern8_13.part)
    add(cirpattern8_12.part)
    add(body_2.part)


solid = Compound([part.part, body_3_1.part])
